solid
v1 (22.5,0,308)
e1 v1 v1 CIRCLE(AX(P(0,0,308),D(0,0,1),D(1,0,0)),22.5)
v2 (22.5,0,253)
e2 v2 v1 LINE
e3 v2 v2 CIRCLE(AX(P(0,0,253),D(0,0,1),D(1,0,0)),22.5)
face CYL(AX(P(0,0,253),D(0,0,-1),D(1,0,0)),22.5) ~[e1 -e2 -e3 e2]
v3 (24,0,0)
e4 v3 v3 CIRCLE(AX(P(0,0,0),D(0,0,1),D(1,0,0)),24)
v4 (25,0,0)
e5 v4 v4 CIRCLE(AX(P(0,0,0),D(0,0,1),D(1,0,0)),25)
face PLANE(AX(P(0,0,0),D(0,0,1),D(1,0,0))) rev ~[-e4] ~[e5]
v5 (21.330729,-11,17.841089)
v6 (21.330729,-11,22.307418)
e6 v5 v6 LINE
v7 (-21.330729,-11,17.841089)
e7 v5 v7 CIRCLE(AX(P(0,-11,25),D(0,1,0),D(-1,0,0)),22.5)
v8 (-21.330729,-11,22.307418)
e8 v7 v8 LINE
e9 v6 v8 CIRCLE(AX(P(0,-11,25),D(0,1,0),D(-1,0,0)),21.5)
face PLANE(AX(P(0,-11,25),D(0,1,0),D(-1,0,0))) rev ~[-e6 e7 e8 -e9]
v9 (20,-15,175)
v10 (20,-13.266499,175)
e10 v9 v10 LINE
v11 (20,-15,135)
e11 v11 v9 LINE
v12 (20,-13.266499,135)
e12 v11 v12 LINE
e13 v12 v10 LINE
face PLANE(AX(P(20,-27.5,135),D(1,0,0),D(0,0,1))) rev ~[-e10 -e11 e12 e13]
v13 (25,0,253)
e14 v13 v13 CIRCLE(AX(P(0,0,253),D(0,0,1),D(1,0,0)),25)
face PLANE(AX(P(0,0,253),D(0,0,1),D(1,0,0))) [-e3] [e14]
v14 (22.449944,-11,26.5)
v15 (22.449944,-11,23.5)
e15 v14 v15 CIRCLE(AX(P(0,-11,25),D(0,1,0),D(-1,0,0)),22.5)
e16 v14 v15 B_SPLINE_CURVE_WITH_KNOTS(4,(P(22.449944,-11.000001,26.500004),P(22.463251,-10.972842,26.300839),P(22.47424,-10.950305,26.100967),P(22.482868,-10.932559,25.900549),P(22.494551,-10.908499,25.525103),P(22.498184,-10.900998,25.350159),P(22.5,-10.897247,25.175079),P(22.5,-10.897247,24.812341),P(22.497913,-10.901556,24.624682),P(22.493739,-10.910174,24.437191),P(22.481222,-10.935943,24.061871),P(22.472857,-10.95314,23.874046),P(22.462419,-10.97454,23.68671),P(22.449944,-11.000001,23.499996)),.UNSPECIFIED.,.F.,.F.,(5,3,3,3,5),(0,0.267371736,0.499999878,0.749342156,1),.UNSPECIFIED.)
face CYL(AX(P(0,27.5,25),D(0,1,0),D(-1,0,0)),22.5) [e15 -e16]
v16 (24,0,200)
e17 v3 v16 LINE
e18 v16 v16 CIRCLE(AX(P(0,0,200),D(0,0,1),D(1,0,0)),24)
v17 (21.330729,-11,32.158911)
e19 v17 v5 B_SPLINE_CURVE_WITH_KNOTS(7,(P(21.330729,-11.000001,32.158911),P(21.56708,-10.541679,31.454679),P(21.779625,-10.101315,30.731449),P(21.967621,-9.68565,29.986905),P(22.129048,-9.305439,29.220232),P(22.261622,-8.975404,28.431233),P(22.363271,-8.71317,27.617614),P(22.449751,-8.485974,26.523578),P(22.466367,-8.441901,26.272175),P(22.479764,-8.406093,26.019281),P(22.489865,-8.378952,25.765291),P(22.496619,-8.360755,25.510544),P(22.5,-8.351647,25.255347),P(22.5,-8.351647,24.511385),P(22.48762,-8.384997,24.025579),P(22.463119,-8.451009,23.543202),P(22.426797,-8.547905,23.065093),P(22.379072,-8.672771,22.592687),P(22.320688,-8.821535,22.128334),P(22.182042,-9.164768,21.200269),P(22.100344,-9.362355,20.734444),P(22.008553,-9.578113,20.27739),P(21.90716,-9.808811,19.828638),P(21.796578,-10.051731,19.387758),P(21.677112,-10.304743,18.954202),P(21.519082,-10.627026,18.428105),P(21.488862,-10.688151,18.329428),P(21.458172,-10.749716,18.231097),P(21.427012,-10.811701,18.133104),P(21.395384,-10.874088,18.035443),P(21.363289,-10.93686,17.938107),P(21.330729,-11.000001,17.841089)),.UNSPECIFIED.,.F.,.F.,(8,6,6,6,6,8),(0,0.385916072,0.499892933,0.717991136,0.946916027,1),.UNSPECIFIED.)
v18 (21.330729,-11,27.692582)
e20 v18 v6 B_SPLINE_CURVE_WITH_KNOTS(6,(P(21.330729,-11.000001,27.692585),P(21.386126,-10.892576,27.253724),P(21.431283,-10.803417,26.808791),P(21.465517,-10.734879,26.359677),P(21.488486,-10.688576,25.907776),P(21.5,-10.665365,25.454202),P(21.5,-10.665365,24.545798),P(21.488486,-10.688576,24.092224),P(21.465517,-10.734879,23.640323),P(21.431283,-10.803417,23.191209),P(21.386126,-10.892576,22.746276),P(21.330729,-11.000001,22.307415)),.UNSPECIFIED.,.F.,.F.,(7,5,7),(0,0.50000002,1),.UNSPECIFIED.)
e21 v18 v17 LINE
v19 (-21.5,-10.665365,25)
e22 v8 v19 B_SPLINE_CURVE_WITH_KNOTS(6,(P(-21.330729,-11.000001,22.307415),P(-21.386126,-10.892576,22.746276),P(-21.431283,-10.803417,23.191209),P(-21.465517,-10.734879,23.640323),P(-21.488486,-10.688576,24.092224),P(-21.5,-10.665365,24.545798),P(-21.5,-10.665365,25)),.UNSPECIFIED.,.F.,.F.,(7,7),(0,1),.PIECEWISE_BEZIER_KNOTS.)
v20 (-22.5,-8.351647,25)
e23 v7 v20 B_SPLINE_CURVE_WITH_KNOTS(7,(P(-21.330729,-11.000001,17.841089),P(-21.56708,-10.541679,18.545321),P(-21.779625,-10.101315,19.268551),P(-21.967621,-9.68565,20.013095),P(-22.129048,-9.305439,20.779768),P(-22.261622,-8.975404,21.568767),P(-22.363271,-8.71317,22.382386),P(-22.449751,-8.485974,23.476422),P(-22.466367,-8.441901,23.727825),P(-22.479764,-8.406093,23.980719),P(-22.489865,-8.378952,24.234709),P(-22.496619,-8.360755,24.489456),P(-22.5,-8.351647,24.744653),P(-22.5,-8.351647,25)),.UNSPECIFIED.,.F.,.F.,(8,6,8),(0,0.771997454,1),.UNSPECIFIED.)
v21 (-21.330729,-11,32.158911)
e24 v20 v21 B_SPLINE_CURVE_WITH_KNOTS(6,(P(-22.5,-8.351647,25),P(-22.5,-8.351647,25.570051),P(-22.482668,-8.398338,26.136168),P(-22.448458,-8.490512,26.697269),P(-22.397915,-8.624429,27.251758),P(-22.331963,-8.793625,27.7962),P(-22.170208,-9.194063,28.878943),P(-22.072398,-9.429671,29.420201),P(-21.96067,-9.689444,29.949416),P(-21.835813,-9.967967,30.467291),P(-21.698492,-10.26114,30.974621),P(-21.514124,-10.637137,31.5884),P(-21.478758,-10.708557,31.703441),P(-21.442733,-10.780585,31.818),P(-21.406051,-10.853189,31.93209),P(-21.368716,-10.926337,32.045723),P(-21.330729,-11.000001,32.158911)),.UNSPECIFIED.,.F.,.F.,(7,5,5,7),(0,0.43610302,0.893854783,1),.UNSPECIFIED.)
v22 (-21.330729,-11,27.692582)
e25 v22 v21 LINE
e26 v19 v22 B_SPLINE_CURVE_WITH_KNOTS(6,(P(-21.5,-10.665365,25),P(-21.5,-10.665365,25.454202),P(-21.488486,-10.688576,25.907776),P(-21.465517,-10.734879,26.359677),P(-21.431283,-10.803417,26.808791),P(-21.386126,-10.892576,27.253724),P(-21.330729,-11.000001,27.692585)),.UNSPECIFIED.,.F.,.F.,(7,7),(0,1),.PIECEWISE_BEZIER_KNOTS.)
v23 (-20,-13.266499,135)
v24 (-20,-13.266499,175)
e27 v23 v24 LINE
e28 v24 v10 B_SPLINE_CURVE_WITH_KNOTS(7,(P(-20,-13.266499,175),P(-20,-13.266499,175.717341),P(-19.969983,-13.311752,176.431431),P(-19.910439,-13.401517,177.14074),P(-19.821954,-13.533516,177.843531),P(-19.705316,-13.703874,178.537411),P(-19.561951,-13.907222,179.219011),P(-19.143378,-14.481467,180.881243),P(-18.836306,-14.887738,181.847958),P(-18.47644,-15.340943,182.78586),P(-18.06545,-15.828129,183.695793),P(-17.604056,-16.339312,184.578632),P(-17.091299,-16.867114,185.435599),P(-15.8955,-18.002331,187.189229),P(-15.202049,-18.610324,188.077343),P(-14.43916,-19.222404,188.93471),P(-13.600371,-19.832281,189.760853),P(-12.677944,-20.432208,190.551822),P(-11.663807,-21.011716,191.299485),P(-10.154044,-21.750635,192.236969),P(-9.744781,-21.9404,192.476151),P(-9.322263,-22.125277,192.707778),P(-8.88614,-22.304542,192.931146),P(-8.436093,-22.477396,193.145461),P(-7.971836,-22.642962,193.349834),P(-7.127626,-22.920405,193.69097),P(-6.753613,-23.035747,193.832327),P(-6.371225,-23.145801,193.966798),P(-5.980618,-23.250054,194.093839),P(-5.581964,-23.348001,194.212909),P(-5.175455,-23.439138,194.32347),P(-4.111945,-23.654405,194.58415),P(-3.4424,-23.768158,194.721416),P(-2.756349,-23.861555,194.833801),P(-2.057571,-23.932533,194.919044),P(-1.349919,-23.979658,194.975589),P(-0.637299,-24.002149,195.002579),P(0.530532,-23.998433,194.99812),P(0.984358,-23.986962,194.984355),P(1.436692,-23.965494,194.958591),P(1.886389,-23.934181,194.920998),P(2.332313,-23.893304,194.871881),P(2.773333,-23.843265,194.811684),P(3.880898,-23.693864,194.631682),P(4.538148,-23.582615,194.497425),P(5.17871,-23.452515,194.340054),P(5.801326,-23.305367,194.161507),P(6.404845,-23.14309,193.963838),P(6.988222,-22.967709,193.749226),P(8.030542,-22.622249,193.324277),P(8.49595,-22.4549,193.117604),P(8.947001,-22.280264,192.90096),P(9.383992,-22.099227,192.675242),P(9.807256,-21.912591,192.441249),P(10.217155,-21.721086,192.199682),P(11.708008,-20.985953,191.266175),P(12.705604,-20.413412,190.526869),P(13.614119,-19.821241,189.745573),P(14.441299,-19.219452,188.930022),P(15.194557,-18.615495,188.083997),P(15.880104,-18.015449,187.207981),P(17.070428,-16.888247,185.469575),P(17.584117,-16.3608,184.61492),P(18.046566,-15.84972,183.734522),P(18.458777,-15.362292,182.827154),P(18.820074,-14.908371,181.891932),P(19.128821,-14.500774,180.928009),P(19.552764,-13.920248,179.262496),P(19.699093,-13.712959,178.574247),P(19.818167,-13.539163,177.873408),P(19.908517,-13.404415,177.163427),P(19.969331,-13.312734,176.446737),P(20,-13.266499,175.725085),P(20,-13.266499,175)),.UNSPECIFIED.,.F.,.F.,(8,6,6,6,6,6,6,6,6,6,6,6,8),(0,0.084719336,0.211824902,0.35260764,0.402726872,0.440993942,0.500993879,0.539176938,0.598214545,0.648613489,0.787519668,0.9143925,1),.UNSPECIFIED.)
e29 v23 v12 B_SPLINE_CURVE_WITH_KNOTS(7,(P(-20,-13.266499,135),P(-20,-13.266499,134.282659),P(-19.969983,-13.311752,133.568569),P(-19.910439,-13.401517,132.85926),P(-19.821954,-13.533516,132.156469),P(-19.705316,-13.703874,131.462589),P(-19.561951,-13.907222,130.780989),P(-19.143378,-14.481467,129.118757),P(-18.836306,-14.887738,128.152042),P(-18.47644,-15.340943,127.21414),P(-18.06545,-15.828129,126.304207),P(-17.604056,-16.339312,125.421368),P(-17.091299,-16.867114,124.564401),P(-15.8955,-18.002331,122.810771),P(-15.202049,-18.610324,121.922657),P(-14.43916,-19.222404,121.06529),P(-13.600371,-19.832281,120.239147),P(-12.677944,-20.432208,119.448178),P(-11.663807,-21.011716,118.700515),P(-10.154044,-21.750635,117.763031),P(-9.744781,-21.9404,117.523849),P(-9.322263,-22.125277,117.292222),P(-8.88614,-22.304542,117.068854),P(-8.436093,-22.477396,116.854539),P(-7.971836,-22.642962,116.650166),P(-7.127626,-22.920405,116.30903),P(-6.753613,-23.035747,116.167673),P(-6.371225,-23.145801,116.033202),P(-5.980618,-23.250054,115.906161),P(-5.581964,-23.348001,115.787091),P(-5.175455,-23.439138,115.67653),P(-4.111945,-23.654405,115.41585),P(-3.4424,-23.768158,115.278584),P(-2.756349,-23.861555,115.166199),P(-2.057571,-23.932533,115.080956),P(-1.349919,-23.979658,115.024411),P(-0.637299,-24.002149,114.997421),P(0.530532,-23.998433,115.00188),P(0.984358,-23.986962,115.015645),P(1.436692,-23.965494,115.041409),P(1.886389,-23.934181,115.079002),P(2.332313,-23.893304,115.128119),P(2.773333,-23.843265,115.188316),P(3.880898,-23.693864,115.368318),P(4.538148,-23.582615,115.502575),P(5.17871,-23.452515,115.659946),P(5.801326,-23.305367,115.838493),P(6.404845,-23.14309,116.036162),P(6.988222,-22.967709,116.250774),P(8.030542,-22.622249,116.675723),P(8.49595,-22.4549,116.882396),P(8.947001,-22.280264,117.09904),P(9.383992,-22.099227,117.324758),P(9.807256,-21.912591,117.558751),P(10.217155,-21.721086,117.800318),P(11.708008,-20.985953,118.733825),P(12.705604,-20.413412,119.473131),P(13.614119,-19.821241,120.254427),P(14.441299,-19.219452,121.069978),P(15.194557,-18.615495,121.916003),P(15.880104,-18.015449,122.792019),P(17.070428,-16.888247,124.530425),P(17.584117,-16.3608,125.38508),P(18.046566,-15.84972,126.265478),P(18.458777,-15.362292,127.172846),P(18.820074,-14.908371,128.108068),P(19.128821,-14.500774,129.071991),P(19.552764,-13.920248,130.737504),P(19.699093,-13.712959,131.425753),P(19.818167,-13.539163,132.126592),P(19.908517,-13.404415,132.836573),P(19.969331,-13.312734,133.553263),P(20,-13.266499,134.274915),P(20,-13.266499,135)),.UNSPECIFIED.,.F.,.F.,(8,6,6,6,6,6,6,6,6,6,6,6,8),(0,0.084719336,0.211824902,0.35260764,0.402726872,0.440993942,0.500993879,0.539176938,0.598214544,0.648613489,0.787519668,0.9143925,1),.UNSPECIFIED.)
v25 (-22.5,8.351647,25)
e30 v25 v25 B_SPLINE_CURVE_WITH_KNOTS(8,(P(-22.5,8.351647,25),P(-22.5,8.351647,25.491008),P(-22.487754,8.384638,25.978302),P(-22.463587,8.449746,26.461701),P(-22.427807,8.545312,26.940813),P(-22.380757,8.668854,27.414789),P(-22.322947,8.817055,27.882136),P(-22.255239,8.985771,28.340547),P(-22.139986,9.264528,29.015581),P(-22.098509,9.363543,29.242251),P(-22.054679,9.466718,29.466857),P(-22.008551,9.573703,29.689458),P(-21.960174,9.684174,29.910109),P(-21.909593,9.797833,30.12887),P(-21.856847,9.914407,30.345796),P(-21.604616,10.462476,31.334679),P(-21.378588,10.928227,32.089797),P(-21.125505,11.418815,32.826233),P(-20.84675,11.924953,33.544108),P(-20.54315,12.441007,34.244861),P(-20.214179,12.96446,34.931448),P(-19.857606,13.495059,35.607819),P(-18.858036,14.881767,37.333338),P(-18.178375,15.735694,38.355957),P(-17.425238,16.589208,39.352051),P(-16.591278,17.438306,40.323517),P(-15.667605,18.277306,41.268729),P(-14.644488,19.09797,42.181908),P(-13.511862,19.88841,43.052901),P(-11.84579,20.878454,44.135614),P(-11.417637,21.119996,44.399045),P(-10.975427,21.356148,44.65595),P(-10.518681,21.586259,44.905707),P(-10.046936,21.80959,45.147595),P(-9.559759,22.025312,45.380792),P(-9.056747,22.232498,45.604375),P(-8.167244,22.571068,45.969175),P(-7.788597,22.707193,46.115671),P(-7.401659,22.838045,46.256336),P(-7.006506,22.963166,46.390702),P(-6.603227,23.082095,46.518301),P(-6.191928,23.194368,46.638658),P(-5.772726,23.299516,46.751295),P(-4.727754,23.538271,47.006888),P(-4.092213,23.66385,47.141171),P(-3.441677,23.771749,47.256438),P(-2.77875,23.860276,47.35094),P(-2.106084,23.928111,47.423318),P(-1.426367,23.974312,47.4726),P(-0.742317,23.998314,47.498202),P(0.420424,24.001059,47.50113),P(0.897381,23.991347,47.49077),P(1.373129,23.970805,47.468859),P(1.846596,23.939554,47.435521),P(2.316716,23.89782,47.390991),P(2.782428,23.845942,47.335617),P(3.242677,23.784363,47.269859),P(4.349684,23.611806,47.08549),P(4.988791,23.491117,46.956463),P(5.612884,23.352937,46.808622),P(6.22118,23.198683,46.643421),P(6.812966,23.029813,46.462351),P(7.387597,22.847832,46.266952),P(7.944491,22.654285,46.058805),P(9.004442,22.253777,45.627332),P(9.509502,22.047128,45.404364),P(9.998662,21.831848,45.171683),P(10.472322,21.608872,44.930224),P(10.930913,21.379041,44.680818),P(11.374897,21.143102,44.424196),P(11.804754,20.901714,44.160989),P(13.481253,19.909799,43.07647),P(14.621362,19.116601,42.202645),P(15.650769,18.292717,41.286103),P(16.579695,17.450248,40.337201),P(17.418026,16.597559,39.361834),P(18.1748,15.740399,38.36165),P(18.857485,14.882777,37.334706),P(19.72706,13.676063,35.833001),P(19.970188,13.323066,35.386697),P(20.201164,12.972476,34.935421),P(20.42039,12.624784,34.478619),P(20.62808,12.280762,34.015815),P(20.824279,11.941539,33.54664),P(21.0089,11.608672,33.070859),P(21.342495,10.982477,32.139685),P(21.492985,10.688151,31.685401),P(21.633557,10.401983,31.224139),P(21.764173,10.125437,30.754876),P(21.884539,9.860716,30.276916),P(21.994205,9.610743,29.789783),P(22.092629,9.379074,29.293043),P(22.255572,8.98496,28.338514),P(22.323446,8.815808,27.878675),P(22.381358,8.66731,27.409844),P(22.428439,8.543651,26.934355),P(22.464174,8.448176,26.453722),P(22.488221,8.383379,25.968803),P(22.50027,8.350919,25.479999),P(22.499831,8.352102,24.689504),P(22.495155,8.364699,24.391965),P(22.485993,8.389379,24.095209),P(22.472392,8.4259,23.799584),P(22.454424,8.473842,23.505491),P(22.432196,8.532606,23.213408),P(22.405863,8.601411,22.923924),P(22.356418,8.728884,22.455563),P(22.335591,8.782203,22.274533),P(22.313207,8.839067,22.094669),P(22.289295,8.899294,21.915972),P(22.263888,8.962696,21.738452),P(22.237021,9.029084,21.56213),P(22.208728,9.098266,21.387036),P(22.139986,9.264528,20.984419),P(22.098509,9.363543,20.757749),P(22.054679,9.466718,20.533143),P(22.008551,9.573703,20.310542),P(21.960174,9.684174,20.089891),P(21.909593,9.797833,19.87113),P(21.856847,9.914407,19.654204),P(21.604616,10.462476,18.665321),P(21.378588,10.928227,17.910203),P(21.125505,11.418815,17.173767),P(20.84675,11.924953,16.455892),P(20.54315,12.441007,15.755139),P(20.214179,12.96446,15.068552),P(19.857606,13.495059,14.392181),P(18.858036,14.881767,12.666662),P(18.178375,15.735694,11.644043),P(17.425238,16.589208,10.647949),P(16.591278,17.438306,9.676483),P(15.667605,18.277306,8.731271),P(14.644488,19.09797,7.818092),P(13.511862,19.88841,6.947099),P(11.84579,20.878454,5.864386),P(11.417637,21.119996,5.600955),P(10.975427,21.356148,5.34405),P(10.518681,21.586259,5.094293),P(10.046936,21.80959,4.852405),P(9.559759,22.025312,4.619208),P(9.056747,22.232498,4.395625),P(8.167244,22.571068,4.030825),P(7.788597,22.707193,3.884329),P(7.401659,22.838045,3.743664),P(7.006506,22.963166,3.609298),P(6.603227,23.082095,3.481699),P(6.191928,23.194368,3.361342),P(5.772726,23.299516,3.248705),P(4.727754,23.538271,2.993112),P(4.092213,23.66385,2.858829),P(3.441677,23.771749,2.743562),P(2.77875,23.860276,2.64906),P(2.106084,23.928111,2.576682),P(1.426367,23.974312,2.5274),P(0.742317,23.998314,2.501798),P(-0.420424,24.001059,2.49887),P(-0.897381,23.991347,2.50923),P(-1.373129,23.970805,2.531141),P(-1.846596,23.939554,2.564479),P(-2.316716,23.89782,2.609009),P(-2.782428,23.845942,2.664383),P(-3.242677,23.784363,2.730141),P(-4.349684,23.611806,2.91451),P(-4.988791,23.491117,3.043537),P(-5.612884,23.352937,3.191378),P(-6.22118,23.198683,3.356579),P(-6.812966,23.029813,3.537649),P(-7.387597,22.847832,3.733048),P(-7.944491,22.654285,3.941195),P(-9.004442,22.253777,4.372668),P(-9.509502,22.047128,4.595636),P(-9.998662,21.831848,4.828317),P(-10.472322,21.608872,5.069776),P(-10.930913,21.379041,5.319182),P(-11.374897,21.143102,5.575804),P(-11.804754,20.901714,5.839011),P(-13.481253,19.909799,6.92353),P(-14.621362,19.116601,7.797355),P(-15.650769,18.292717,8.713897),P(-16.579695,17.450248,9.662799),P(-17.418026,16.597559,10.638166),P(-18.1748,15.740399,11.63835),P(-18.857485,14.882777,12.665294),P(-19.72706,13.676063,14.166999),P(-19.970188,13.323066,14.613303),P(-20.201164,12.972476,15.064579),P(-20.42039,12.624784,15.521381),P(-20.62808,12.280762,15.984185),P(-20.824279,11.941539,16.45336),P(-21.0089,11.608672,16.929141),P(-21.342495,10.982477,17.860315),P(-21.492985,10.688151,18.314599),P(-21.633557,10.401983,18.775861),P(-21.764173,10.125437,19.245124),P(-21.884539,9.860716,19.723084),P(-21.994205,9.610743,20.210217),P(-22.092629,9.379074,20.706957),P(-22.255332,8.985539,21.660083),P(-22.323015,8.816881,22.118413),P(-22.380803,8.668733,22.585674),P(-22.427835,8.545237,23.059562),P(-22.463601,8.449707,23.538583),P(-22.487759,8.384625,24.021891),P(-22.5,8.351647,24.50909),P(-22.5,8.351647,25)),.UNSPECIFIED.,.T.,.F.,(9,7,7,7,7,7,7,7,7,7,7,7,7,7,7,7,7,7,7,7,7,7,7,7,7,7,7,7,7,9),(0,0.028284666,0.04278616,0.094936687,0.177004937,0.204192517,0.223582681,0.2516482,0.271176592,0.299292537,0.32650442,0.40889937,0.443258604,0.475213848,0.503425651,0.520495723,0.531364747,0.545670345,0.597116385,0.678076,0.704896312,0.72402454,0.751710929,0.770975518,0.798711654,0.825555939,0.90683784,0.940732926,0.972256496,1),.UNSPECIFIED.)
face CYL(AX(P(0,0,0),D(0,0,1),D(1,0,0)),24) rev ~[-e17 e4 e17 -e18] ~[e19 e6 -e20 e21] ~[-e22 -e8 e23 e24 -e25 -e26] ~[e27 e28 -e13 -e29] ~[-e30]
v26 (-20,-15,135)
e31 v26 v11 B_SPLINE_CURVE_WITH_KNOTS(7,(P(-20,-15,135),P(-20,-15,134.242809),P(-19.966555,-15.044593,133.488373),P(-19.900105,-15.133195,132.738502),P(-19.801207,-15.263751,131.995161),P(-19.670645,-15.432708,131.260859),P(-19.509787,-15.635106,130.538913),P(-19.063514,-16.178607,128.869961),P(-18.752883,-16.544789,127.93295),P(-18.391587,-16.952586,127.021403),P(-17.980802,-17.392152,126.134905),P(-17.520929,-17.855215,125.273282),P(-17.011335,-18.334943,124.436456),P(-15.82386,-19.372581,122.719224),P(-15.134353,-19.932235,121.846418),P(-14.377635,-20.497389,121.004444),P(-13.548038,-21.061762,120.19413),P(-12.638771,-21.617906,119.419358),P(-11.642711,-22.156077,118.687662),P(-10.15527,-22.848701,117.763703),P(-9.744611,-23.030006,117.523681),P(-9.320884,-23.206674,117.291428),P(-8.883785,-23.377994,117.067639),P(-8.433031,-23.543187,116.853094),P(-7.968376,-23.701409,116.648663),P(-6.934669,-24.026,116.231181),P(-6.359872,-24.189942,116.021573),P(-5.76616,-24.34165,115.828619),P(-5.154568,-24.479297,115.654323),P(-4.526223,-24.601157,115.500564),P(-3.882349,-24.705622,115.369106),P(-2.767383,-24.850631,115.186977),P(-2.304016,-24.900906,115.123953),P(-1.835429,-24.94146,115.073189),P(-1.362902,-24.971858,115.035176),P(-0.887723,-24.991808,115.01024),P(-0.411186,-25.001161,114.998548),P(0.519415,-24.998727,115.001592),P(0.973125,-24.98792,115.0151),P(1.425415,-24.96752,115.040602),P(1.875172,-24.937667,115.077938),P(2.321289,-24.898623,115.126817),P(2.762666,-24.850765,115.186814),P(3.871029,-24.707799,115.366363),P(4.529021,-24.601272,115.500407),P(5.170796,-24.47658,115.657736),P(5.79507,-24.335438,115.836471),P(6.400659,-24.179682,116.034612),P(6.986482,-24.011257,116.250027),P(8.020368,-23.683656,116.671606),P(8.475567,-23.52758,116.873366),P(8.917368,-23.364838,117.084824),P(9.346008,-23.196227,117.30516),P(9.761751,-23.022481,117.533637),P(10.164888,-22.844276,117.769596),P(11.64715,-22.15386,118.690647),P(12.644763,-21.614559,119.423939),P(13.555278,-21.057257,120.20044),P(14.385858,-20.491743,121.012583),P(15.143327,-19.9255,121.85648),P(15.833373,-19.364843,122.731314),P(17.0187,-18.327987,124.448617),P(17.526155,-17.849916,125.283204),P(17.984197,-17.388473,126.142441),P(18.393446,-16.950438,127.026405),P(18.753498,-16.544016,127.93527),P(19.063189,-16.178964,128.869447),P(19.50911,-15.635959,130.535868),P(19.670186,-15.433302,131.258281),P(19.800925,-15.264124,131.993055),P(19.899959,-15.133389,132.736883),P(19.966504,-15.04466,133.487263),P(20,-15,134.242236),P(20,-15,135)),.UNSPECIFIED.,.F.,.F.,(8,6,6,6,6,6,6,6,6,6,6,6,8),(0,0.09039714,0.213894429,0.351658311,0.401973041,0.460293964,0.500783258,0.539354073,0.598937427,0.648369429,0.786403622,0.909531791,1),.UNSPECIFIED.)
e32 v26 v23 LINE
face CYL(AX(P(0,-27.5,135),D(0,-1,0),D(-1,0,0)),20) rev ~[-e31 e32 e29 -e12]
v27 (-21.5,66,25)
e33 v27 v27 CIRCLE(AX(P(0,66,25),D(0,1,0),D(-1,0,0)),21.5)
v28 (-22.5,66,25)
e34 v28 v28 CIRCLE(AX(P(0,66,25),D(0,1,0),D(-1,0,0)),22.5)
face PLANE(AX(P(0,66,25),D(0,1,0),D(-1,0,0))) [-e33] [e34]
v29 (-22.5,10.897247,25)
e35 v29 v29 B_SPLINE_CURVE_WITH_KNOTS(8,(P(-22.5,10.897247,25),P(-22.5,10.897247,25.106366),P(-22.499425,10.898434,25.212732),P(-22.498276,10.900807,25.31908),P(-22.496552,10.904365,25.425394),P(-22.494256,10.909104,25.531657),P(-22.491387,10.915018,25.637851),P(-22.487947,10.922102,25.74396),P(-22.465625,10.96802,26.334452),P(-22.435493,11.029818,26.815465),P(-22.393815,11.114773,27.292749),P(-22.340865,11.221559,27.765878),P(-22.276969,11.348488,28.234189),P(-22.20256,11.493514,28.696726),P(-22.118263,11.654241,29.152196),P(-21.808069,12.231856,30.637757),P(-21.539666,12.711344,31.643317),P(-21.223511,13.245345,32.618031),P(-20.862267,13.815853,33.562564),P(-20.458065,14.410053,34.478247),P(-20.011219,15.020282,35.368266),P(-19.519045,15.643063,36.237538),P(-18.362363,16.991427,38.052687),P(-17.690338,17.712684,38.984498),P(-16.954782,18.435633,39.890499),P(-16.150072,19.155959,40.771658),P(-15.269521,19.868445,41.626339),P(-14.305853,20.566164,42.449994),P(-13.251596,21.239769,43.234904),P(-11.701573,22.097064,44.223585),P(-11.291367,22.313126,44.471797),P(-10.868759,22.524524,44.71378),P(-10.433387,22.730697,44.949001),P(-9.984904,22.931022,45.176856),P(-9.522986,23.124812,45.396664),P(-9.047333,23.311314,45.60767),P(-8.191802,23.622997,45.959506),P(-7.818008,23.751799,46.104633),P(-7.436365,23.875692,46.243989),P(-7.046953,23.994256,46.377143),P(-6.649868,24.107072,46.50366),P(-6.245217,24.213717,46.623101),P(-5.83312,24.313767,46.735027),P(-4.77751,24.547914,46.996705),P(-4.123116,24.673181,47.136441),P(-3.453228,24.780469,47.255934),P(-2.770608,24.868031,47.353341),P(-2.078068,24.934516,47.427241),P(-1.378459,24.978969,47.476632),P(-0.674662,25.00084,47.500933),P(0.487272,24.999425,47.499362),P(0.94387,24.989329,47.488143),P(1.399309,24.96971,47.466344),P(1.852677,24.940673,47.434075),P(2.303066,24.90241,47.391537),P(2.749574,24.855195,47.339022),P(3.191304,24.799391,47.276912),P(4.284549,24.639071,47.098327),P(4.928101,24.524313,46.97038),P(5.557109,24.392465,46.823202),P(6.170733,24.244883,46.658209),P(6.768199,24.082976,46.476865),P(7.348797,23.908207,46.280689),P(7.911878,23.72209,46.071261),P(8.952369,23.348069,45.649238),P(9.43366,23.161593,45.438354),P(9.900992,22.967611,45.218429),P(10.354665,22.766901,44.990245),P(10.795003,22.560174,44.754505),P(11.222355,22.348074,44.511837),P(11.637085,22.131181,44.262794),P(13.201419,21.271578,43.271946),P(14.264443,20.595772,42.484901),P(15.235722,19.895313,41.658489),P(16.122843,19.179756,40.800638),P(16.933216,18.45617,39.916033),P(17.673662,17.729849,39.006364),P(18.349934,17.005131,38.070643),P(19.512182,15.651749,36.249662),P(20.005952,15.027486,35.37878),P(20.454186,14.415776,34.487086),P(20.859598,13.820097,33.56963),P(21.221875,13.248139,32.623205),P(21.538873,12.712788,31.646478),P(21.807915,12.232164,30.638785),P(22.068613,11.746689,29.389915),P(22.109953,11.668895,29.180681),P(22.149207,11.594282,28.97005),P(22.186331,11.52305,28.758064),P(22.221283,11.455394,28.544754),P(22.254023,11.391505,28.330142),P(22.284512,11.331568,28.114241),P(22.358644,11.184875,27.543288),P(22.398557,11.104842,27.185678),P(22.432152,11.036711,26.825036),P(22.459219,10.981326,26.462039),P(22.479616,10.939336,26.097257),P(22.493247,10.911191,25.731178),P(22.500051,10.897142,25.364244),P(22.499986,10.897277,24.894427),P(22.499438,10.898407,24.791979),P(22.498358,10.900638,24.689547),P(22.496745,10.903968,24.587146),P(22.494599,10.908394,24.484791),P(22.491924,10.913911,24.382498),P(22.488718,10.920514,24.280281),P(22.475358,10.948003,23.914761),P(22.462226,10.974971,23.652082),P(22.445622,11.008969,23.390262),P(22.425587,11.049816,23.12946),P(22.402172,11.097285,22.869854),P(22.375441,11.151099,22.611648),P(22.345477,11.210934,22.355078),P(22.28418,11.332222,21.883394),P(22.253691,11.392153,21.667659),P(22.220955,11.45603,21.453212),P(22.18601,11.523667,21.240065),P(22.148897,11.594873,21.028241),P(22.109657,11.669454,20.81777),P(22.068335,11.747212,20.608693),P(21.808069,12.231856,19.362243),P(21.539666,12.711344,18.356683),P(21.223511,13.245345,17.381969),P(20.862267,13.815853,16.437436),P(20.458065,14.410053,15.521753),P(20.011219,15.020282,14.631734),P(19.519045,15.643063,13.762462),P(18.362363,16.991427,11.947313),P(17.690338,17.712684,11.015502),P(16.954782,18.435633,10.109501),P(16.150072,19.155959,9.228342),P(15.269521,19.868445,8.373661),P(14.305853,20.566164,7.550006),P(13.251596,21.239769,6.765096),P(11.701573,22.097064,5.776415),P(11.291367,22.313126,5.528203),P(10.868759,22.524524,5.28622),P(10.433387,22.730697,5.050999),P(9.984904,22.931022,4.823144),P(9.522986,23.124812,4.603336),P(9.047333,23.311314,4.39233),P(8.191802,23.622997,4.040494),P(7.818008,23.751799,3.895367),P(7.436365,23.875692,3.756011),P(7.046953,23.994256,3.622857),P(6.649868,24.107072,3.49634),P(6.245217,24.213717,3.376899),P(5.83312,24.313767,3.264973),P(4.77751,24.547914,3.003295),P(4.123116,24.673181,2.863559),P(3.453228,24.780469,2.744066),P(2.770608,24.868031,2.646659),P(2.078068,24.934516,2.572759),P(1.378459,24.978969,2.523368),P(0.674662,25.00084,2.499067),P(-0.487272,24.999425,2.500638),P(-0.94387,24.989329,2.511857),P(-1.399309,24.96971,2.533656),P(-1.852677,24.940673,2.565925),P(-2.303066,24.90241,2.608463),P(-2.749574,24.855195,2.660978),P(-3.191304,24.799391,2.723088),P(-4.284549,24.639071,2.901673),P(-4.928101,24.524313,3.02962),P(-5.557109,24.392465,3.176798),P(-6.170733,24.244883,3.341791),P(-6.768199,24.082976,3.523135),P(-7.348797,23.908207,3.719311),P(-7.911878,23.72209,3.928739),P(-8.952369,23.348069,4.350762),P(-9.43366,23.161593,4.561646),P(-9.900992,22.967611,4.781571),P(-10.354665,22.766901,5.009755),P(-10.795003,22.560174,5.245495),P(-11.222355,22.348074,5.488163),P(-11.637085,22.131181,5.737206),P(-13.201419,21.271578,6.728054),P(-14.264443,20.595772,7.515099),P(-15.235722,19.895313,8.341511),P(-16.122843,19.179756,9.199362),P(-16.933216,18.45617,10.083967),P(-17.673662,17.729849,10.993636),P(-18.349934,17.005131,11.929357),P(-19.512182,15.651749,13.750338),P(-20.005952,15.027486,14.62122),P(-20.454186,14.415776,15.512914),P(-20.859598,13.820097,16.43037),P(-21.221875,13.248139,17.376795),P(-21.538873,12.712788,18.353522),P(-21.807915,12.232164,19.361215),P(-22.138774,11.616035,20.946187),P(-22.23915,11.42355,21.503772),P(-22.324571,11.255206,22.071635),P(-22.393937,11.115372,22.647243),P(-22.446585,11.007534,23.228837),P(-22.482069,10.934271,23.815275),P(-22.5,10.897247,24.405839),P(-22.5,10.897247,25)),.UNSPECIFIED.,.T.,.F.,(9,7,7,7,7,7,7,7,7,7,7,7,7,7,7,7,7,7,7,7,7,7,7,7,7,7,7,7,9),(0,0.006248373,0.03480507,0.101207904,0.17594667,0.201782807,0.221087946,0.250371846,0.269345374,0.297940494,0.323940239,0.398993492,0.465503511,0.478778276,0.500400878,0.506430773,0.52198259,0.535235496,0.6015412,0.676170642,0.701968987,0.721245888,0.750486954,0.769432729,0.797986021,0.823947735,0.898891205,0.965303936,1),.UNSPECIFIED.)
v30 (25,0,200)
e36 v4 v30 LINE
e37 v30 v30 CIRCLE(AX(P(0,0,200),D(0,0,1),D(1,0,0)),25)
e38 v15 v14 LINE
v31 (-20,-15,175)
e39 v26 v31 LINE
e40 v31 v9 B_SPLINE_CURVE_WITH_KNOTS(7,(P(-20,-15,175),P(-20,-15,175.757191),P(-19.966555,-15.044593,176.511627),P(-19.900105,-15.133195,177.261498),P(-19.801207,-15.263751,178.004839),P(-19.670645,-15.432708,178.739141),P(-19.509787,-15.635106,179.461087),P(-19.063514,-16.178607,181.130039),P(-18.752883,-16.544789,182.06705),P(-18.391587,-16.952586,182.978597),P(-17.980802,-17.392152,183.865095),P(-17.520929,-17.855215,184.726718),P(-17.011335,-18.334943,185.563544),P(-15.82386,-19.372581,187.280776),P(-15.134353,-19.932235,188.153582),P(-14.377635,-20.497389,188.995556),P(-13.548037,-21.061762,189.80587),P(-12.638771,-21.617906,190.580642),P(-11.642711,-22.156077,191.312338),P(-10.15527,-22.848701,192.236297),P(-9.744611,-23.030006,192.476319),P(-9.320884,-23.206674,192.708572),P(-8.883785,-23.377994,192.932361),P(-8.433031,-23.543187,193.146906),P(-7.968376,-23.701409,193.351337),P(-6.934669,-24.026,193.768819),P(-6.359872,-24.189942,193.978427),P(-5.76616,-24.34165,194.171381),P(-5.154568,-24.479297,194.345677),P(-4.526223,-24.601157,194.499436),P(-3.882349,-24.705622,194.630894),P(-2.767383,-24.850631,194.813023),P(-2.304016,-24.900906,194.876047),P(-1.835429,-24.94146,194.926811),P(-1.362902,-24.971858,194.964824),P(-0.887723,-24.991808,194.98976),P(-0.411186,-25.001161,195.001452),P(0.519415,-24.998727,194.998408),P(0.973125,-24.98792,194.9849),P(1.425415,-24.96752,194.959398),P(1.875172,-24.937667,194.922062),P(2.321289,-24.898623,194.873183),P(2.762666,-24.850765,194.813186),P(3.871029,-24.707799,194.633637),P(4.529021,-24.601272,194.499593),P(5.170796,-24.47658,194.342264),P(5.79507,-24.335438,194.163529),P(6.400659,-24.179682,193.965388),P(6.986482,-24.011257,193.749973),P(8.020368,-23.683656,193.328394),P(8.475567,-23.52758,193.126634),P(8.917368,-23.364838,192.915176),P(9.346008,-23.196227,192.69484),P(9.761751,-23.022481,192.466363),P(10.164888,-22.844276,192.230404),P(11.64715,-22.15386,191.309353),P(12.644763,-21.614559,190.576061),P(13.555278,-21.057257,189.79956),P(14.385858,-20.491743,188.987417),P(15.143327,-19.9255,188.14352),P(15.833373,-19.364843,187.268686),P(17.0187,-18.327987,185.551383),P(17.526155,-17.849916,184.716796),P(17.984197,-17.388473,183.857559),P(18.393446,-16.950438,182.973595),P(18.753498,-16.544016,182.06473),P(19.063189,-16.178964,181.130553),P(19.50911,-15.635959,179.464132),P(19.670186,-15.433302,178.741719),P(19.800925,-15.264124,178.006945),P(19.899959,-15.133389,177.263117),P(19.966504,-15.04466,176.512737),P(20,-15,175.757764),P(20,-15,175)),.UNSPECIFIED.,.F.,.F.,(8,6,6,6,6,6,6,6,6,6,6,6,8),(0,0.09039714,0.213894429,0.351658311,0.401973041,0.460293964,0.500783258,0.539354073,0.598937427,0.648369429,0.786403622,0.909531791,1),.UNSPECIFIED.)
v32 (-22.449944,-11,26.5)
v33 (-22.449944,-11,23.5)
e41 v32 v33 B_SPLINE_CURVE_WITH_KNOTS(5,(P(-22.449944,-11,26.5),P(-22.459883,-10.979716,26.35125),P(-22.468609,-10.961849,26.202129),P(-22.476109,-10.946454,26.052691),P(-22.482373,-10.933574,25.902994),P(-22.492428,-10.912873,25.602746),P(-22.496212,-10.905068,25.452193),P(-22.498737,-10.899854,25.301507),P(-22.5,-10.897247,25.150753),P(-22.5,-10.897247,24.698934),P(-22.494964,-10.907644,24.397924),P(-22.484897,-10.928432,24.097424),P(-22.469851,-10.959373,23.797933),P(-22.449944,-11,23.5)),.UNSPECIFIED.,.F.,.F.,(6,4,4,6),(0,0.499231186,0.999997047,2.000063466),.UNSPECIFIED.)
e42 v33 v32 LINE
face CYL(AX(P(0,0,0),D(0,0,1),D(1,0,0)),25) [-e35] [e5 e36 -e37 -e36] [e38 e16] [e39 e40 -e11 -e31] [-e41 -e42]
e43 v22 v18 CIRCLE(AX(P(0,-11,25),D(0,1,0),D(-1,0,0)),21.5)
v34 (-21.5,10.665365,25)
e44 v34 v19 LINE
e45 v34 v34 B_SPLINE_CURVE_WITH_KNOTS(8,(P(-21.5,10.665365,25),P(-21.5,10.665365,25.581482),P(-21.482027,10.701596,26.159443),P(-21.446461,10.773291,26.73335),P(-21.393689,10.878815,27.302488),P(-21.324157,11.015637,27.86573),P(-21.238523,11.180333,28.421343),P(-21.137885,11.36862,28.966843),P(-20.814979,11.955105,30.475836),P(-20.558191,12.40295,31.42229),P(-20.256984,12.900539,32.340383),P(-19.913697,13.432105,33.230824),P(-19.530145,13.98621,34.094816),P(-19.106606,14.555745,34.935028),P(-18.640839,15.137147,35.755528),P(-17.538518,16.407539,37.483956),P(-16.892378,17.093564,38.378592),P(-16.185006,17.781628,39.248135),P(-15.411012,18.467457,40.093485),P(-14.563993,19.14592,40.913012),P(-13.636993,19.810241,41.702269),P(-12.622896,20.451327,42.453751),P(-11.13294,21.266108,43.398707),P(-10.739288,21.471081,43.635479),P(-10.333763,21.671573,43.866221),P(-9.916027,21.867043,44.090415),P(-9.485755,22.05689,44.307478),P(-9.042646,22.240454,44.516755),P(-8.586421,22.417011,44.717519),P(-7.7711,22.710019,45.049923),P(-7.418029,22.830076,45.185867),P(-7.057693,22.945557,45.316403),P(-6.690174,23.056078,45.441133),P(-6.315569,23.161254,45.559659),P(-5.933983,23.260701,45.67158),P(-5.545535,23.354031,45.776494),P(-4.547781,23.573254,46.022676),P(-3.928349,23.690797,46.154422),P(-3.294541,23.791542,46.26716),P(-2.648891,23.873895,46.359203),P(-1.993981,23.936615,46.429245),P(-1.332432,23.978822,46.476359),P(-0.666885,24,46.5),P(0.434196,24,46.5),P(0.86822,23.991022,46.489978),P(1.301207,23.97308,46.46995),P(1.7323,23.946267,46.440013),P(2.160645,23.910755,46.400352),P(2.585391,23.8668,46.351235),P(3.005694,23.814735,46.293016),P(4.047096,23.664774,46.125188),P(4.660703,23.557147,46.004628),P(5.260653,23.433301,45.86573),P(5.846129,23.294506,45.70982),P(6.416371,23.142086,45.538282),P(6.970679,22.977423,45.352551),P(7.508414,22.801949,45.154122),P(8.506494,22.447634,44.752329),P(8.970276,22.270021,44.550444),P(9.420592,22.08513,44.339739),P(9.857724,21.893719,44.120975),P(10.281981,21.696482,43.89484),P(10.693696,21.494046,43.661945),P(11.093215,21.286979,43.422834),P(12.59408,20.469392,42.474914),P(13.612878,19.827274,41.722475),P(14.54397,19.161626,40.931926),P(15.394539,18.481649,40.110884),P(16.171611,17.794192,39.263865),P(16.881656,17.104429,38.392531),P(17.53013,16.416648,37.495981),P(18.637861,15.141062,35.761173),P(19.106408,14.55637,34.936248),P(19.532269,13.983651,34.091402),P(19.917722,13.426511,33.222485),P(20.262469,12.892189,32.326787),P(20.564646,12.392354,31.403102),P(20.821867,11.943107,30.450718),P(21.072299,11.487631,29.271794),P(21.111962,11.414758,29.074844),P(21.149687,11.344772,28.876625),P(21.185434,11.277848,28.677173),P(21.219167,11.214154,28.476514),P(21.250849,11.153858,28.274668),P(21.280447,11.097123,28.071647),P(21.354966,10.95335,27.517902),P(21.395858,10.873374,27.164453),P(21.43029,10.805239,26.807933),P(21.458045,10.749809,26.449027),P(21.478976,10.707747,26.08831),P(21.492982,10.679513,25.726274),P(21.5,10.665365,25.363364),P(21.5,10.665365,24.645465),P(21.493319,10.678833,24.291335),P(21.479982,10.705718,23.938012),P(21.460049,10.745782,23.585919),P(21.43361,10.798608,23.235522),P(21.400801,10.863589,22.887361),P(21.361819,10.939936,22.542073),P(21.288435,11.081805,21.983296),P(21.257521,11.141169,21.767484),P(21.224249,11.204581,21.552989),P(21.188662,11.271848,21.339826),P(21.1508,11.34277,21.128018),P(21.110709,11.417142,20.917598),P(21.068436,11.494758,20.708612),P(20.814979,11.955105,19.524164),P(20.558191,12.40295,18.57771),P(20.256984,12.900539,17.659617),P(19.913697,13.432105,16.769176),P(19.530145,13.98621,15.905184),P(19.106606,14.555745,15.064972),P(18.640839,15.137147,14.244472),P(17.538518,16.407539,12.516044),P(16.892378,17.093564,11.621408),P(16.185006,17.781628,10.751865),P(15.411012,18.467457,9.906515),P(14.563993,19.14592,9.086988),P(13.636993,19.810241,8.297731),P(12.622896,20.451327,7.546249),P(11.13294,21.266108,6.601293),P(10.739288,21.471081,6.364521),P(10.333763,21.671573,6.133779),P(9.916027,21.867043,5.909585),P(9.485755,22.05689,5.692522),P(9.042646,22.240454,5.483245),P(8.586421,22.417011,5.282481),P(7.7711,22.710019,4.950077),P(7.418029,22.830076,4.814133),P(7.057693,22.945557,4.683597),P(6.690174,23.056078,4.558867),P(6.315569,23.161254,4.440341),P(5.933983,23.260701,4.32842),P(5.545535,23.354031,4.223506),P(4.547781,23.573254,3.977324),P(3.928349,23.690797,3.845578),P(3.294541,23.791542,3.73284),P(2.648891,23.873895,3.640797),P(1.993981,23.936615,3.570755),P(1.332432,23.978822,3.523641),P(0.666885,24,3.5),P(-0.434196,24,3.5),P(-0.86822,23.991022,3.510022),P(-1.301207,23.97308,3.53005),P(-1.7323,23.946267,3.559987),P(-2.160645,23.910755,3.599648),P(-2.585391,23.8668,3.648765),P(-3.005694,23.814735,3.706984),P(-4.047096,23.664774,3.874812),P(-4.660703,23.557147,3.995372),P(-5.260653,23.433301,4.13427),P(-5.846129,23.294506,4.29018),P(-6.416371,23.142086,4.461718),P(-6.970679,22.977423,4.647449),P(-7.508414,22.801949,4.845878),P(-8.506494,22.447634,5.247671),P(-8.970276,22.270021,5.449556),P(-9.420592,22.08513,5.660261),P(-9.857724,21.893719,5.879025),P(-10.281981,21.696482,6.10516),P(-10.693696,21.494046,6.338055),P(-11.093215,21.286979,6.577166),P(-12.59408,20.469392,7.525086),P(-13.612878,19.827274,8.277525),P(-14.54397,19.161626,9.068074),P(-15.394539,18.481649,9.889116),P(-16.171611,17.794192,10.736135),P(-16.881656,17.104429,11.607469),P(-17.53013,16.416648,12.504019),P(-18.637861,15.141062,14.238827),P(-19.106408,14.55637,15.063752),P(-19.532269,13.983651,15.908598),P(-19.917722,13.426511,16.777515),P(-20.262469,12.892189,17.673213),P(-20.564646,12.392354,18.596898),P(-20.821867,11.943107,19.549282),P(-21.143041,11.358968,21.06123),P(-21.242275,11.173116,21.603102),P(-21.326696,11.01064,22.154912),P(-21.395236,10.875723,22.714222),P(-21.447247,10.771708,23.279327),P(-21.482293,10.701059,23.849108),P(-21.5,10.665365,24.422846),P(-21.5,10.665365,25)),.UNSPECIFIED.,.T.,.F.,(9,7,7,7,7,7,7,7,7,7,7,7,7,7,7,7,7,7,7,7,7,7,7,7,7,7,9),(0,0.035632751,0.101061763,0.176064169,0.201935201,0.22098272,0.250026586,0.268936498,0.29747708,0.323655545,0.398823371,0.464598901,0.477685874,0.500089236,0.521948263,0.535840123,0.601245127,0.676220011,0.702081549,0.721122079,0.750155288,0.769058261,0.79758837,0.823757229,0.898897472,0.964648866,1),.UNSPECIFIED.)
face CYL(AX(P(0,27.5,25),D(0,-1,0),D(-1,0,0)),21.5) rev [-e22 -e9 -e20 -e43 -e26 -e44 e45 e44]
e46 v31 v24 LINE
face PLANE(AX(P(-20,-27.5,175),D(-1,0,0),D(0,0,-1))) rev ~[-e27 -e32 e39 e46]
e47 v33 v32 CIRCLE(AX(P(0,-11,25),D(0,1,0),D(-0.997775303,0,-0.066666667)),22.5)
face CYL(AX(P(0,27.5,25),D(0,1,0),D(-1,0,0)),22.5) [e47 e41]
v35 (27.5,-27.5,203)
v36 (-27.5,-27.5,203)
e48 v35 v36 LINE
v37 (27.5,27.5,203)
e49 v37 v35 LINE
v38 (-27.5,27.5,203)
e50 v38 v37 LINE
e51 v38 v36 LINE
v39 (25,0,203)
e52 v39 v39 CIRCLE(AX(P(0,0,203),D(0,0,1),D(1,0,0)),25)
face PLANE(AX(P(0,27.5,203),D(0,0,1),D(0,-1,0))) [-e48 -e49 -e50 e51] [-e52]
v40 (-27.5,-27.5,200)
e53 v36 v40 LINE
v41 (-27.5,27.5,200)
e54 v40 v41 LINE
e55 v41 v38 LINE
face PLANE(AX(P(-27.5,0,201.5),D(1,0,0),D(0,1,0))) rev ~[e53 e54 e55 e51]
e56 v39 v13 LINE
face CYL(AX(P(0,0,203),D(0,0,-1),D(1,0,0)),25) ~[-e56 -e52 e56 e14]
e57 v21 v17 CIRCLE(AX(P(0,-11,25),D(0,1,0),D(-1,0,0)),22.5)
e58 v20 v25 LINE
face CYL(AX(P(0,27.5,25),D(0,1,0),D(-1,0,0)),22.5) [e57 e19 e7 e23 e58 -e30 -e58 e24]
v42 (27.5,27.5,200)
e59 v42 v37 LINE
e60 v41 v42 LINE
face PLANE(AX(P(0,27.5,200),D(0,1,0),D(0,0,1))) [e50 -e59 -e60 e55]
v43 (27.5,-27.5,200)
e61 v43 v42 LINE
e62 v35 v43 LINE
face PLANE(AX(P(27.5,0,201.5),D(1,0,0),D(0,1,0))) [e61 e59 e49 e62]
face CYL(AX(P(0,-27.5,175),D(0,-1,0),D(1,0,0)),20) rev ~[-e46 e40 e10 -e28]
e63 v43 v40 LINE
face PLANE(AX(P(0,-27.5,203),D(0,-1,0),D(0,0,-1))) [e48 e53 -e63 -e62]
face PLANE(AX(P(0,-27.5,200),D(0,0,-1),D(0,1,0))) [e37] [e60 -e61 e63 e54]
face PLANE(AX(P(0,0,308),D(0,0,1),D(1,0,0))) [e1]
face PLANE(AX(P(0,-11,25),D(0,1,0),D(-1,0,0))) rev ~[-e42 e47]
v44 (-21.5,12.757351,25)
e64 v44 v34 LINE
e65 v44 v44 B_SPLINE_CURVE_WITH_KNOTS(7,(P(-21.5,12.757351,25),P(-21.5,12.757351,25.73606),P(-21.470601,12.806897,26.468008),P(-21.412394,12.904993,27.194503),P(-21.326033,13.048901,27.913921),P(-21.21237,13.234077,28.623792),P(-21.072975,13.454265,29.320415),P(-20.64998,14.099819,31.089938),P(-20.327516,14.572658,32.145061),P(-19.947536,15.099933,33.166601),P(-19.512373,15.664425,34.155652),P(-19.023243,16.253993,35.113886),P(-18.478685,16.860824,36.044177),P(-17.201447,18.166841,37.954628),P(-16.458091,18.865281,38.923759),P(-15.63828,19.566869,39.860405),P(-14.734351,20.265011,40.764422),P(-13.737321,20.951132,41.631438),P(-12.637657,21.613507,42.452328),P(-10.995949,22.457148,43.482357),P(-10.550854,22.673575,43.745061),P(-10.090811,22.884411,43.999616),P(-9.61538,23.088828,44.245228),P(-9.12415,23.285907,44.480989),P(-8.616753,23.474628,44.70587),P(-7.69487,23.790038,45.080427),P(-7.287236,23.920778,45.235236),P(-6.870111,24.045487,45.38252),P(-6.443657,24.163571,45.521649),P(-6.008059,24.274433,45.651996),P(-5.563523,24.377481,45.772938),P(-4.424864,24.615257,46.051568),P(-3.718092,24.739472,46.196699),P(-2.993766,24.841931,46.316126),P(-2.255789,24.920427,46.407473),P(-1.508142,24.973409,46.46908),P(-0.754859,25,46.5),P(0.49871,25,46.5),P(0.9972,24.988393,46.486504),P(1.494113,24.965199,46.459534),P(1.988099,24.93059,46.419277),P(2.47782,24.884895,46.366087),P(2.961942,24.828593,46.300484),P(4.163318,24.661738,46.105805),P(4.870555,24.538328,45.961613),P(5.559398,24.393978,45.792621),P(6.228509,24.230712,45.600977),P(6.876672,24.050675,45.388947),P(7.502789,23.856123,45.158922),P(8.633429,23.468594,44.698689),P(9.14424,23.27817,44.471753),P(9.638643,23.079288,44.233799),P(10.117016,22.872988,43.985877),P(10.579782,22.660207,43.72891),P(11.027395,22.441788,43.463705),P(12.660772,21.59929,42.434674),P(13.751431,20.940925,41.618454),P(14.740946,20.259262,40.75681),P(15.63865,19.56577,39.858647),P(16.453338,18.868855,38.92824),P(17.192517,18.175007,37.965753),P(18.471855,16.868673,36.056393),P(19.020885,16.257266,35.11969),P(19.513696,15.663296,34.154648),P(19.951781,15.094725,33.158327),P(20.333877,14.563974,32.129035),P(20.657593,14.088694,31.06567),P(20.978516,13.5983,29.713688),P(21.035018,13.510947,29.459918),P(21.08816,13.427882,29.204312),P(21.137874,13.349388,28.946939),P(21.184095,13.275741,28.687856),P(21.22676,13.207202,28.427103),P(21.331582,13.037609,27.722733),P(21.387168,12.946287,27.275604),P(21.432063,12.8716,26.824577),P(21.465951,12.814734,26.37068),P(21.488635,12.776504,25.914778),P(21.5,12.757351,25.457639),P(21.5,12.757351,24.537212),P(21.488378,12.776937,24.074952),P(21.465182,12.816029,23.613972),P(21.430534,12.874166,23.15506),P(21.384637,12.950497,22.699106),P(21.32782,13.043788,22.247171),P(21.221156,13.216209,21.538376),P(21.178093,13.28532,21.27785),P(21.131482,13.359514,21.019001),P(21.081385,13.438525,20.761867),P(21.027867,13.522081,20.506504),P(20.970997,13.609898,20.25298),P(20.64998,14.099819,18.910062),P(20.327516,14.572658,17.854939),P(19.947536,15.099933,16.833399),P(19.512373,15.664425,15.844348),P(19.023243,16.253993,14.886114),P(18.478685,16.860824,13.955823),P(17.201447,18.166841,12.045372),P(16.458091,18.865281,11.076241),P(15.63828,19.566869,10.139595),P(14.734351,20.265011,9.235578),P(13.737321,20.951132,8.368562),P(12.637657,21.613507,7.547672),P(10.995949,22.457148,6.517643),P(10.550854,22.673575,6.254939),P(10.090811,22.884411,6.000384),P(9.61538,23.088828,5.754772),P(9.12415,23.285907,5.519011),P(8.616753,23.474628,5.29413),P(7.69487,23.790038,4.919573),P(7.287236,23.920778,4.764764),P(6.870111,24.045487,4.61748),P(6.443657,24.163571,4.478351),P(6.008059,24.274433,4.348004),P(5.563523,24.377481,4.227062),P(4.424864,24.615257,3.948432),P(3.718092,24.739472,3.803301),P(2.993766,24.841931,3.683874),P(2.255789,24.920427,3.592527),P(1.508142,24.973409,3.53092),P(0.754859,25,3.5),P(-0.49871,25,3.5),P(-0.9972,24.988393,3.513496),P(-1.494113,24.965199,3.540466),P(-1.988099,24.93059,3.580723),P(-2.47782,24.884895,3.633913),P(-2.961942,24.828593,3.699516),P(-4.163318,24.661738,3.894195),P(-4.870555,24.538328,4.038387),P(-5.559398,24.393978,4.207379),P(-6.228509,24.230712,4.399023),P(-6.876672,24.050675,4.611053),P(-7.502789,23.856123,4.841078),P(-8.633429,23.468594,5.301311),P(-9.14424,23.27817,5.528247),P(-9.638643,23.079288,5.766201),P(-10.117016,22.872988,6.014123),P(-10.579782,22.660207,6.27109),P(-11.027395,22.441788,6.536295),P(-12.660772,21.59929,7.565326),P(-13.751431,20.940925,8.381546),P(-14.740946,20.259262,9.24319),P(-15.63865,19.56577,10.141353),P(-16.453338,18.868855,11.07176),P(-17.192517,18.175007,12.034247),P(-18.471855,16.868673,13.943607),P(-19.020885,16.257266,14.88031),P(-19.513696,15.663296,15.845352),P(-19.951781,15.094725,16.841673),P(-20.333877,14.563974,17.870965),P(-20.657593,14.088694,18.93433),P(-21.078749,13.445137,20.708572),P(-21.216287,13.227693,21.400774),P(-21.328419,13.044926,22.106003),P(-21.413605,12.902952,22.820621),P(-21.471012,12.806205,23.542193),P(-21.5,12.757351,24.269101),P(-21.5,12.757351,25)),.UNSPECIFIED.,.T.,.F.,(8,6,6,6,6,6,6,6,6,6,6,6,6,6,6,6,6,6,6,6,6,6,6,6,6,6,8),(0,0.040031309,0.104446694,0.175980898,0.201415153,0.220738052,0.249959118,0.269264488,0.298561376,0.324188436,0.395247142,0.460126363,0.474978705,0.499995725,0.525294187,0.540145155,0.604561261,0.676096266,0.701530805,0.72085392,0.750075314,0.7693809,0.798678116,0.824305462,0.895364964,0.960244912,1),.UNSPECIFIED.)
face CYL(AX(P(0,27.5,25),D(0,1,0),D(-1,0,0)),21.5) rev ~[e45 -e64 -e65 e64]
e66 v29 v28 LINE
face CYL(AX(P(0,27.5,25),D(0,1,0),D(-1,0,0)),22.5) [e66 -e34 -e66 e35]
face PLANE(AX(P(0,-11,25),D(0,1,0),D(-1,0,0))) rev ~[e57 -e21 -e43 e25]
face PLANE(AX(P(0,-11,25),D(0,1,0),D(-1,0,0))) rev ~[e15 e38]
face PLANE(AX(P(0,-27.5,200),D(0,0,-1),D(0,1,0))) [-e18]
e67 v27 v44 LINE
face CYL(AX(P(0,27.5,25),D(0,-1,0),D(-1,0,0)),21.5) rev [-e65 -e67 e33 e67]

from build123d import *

# Parameters (mm, degrees)
F1_R      = 25
F1_R_2    = 24
F4_DEPTH  = 27.5
F5_R      = 25
F6_DEPTH  = 50
F7_R      = 22.5
F8_DEPTH  = 55
F9_R      = 21.5
F10_DEPTH = 20
F9_R_2    = 22.5
F11_DEPTH = 38.5
F13_DEPTH = 38.5


with BuildPart() as f2:
    # F2: sweep along a path in F0
    with BuildLine(Plane.YZ) as f2_path:
        Line((0, 0), (0, 200))
    # F1 (on Top) → F2 (sweep)
    with BuildSketch(Plane.XY):
        Circle(F1_R)
        Circle(F1_R_2, mode=Mode.SUBTRACT)
    sweep(path=f2_path.line)

    # F3 (on Right) → F4 (join, symmetric)
    with BuildSketch(Plane.YZ):
        Polygon((-27.5, 200), (-25, 200), (25, 200), (27.5, 200), (27.5, 203), (-27.5, 203), align=None)
    extrude(amount=F4_DEPTH, both=True)

    # F5 (on face) → F6 (join)
    with BuildSketch(Plane.XY.offset(203)):
        Circle(F5_R)
    extrude(amount=F6_DEPTH)

    # F7 (on face) → F8 (join)
    with BuildSketch(Plane.XY.offset(253)):
        Circle(F7_R)
    extrude(amount=F8_DEPTH)

    # F9 (on face) → F10 (cut)
    with BuildSketch(Plane(origin=(0, 27.5, 0), x_dir=(-1, 0, 0), z_dir=(0, 1, 0))):
        with Locations((0, 25)):
            Circle(F9_R)
    extrude(amount=-F10_DEPTH, mode=Mode.SUBTRACT)

    # F9 (on face) → F11 (join, symmetric)
    with BuildSketch(Plane(origin=(0, 27.5, 0), x_dir=(-1, 0, 0), z_dir=(0, 1, 0))):
        with Locations((0, 25)):
            Circle(F9_R_2)
        with Locations((0, 25)):
            Circle(F9_R, mode=Mode.SUBTRACT)
    extrude(amount=F11_DEPTH, both=True)

    # F12 (on face) → F13 (cut)
    with BuildSketch(Plane.XZ.offset(27.5)):
        with BuildLine():
            Line((-20, 175), (-20, 135))
            ThreePointArc((-20, 135), (0, 115), (20, 135))
            Line((20, 135), (20, 175))
            ThreePointArc((20, 175), (0, 195), (-20, 175))
        make_face()
    extrude(amount=-F13_DEPTH, mode=Mode.SUBTRACT)


solid = f2.part
